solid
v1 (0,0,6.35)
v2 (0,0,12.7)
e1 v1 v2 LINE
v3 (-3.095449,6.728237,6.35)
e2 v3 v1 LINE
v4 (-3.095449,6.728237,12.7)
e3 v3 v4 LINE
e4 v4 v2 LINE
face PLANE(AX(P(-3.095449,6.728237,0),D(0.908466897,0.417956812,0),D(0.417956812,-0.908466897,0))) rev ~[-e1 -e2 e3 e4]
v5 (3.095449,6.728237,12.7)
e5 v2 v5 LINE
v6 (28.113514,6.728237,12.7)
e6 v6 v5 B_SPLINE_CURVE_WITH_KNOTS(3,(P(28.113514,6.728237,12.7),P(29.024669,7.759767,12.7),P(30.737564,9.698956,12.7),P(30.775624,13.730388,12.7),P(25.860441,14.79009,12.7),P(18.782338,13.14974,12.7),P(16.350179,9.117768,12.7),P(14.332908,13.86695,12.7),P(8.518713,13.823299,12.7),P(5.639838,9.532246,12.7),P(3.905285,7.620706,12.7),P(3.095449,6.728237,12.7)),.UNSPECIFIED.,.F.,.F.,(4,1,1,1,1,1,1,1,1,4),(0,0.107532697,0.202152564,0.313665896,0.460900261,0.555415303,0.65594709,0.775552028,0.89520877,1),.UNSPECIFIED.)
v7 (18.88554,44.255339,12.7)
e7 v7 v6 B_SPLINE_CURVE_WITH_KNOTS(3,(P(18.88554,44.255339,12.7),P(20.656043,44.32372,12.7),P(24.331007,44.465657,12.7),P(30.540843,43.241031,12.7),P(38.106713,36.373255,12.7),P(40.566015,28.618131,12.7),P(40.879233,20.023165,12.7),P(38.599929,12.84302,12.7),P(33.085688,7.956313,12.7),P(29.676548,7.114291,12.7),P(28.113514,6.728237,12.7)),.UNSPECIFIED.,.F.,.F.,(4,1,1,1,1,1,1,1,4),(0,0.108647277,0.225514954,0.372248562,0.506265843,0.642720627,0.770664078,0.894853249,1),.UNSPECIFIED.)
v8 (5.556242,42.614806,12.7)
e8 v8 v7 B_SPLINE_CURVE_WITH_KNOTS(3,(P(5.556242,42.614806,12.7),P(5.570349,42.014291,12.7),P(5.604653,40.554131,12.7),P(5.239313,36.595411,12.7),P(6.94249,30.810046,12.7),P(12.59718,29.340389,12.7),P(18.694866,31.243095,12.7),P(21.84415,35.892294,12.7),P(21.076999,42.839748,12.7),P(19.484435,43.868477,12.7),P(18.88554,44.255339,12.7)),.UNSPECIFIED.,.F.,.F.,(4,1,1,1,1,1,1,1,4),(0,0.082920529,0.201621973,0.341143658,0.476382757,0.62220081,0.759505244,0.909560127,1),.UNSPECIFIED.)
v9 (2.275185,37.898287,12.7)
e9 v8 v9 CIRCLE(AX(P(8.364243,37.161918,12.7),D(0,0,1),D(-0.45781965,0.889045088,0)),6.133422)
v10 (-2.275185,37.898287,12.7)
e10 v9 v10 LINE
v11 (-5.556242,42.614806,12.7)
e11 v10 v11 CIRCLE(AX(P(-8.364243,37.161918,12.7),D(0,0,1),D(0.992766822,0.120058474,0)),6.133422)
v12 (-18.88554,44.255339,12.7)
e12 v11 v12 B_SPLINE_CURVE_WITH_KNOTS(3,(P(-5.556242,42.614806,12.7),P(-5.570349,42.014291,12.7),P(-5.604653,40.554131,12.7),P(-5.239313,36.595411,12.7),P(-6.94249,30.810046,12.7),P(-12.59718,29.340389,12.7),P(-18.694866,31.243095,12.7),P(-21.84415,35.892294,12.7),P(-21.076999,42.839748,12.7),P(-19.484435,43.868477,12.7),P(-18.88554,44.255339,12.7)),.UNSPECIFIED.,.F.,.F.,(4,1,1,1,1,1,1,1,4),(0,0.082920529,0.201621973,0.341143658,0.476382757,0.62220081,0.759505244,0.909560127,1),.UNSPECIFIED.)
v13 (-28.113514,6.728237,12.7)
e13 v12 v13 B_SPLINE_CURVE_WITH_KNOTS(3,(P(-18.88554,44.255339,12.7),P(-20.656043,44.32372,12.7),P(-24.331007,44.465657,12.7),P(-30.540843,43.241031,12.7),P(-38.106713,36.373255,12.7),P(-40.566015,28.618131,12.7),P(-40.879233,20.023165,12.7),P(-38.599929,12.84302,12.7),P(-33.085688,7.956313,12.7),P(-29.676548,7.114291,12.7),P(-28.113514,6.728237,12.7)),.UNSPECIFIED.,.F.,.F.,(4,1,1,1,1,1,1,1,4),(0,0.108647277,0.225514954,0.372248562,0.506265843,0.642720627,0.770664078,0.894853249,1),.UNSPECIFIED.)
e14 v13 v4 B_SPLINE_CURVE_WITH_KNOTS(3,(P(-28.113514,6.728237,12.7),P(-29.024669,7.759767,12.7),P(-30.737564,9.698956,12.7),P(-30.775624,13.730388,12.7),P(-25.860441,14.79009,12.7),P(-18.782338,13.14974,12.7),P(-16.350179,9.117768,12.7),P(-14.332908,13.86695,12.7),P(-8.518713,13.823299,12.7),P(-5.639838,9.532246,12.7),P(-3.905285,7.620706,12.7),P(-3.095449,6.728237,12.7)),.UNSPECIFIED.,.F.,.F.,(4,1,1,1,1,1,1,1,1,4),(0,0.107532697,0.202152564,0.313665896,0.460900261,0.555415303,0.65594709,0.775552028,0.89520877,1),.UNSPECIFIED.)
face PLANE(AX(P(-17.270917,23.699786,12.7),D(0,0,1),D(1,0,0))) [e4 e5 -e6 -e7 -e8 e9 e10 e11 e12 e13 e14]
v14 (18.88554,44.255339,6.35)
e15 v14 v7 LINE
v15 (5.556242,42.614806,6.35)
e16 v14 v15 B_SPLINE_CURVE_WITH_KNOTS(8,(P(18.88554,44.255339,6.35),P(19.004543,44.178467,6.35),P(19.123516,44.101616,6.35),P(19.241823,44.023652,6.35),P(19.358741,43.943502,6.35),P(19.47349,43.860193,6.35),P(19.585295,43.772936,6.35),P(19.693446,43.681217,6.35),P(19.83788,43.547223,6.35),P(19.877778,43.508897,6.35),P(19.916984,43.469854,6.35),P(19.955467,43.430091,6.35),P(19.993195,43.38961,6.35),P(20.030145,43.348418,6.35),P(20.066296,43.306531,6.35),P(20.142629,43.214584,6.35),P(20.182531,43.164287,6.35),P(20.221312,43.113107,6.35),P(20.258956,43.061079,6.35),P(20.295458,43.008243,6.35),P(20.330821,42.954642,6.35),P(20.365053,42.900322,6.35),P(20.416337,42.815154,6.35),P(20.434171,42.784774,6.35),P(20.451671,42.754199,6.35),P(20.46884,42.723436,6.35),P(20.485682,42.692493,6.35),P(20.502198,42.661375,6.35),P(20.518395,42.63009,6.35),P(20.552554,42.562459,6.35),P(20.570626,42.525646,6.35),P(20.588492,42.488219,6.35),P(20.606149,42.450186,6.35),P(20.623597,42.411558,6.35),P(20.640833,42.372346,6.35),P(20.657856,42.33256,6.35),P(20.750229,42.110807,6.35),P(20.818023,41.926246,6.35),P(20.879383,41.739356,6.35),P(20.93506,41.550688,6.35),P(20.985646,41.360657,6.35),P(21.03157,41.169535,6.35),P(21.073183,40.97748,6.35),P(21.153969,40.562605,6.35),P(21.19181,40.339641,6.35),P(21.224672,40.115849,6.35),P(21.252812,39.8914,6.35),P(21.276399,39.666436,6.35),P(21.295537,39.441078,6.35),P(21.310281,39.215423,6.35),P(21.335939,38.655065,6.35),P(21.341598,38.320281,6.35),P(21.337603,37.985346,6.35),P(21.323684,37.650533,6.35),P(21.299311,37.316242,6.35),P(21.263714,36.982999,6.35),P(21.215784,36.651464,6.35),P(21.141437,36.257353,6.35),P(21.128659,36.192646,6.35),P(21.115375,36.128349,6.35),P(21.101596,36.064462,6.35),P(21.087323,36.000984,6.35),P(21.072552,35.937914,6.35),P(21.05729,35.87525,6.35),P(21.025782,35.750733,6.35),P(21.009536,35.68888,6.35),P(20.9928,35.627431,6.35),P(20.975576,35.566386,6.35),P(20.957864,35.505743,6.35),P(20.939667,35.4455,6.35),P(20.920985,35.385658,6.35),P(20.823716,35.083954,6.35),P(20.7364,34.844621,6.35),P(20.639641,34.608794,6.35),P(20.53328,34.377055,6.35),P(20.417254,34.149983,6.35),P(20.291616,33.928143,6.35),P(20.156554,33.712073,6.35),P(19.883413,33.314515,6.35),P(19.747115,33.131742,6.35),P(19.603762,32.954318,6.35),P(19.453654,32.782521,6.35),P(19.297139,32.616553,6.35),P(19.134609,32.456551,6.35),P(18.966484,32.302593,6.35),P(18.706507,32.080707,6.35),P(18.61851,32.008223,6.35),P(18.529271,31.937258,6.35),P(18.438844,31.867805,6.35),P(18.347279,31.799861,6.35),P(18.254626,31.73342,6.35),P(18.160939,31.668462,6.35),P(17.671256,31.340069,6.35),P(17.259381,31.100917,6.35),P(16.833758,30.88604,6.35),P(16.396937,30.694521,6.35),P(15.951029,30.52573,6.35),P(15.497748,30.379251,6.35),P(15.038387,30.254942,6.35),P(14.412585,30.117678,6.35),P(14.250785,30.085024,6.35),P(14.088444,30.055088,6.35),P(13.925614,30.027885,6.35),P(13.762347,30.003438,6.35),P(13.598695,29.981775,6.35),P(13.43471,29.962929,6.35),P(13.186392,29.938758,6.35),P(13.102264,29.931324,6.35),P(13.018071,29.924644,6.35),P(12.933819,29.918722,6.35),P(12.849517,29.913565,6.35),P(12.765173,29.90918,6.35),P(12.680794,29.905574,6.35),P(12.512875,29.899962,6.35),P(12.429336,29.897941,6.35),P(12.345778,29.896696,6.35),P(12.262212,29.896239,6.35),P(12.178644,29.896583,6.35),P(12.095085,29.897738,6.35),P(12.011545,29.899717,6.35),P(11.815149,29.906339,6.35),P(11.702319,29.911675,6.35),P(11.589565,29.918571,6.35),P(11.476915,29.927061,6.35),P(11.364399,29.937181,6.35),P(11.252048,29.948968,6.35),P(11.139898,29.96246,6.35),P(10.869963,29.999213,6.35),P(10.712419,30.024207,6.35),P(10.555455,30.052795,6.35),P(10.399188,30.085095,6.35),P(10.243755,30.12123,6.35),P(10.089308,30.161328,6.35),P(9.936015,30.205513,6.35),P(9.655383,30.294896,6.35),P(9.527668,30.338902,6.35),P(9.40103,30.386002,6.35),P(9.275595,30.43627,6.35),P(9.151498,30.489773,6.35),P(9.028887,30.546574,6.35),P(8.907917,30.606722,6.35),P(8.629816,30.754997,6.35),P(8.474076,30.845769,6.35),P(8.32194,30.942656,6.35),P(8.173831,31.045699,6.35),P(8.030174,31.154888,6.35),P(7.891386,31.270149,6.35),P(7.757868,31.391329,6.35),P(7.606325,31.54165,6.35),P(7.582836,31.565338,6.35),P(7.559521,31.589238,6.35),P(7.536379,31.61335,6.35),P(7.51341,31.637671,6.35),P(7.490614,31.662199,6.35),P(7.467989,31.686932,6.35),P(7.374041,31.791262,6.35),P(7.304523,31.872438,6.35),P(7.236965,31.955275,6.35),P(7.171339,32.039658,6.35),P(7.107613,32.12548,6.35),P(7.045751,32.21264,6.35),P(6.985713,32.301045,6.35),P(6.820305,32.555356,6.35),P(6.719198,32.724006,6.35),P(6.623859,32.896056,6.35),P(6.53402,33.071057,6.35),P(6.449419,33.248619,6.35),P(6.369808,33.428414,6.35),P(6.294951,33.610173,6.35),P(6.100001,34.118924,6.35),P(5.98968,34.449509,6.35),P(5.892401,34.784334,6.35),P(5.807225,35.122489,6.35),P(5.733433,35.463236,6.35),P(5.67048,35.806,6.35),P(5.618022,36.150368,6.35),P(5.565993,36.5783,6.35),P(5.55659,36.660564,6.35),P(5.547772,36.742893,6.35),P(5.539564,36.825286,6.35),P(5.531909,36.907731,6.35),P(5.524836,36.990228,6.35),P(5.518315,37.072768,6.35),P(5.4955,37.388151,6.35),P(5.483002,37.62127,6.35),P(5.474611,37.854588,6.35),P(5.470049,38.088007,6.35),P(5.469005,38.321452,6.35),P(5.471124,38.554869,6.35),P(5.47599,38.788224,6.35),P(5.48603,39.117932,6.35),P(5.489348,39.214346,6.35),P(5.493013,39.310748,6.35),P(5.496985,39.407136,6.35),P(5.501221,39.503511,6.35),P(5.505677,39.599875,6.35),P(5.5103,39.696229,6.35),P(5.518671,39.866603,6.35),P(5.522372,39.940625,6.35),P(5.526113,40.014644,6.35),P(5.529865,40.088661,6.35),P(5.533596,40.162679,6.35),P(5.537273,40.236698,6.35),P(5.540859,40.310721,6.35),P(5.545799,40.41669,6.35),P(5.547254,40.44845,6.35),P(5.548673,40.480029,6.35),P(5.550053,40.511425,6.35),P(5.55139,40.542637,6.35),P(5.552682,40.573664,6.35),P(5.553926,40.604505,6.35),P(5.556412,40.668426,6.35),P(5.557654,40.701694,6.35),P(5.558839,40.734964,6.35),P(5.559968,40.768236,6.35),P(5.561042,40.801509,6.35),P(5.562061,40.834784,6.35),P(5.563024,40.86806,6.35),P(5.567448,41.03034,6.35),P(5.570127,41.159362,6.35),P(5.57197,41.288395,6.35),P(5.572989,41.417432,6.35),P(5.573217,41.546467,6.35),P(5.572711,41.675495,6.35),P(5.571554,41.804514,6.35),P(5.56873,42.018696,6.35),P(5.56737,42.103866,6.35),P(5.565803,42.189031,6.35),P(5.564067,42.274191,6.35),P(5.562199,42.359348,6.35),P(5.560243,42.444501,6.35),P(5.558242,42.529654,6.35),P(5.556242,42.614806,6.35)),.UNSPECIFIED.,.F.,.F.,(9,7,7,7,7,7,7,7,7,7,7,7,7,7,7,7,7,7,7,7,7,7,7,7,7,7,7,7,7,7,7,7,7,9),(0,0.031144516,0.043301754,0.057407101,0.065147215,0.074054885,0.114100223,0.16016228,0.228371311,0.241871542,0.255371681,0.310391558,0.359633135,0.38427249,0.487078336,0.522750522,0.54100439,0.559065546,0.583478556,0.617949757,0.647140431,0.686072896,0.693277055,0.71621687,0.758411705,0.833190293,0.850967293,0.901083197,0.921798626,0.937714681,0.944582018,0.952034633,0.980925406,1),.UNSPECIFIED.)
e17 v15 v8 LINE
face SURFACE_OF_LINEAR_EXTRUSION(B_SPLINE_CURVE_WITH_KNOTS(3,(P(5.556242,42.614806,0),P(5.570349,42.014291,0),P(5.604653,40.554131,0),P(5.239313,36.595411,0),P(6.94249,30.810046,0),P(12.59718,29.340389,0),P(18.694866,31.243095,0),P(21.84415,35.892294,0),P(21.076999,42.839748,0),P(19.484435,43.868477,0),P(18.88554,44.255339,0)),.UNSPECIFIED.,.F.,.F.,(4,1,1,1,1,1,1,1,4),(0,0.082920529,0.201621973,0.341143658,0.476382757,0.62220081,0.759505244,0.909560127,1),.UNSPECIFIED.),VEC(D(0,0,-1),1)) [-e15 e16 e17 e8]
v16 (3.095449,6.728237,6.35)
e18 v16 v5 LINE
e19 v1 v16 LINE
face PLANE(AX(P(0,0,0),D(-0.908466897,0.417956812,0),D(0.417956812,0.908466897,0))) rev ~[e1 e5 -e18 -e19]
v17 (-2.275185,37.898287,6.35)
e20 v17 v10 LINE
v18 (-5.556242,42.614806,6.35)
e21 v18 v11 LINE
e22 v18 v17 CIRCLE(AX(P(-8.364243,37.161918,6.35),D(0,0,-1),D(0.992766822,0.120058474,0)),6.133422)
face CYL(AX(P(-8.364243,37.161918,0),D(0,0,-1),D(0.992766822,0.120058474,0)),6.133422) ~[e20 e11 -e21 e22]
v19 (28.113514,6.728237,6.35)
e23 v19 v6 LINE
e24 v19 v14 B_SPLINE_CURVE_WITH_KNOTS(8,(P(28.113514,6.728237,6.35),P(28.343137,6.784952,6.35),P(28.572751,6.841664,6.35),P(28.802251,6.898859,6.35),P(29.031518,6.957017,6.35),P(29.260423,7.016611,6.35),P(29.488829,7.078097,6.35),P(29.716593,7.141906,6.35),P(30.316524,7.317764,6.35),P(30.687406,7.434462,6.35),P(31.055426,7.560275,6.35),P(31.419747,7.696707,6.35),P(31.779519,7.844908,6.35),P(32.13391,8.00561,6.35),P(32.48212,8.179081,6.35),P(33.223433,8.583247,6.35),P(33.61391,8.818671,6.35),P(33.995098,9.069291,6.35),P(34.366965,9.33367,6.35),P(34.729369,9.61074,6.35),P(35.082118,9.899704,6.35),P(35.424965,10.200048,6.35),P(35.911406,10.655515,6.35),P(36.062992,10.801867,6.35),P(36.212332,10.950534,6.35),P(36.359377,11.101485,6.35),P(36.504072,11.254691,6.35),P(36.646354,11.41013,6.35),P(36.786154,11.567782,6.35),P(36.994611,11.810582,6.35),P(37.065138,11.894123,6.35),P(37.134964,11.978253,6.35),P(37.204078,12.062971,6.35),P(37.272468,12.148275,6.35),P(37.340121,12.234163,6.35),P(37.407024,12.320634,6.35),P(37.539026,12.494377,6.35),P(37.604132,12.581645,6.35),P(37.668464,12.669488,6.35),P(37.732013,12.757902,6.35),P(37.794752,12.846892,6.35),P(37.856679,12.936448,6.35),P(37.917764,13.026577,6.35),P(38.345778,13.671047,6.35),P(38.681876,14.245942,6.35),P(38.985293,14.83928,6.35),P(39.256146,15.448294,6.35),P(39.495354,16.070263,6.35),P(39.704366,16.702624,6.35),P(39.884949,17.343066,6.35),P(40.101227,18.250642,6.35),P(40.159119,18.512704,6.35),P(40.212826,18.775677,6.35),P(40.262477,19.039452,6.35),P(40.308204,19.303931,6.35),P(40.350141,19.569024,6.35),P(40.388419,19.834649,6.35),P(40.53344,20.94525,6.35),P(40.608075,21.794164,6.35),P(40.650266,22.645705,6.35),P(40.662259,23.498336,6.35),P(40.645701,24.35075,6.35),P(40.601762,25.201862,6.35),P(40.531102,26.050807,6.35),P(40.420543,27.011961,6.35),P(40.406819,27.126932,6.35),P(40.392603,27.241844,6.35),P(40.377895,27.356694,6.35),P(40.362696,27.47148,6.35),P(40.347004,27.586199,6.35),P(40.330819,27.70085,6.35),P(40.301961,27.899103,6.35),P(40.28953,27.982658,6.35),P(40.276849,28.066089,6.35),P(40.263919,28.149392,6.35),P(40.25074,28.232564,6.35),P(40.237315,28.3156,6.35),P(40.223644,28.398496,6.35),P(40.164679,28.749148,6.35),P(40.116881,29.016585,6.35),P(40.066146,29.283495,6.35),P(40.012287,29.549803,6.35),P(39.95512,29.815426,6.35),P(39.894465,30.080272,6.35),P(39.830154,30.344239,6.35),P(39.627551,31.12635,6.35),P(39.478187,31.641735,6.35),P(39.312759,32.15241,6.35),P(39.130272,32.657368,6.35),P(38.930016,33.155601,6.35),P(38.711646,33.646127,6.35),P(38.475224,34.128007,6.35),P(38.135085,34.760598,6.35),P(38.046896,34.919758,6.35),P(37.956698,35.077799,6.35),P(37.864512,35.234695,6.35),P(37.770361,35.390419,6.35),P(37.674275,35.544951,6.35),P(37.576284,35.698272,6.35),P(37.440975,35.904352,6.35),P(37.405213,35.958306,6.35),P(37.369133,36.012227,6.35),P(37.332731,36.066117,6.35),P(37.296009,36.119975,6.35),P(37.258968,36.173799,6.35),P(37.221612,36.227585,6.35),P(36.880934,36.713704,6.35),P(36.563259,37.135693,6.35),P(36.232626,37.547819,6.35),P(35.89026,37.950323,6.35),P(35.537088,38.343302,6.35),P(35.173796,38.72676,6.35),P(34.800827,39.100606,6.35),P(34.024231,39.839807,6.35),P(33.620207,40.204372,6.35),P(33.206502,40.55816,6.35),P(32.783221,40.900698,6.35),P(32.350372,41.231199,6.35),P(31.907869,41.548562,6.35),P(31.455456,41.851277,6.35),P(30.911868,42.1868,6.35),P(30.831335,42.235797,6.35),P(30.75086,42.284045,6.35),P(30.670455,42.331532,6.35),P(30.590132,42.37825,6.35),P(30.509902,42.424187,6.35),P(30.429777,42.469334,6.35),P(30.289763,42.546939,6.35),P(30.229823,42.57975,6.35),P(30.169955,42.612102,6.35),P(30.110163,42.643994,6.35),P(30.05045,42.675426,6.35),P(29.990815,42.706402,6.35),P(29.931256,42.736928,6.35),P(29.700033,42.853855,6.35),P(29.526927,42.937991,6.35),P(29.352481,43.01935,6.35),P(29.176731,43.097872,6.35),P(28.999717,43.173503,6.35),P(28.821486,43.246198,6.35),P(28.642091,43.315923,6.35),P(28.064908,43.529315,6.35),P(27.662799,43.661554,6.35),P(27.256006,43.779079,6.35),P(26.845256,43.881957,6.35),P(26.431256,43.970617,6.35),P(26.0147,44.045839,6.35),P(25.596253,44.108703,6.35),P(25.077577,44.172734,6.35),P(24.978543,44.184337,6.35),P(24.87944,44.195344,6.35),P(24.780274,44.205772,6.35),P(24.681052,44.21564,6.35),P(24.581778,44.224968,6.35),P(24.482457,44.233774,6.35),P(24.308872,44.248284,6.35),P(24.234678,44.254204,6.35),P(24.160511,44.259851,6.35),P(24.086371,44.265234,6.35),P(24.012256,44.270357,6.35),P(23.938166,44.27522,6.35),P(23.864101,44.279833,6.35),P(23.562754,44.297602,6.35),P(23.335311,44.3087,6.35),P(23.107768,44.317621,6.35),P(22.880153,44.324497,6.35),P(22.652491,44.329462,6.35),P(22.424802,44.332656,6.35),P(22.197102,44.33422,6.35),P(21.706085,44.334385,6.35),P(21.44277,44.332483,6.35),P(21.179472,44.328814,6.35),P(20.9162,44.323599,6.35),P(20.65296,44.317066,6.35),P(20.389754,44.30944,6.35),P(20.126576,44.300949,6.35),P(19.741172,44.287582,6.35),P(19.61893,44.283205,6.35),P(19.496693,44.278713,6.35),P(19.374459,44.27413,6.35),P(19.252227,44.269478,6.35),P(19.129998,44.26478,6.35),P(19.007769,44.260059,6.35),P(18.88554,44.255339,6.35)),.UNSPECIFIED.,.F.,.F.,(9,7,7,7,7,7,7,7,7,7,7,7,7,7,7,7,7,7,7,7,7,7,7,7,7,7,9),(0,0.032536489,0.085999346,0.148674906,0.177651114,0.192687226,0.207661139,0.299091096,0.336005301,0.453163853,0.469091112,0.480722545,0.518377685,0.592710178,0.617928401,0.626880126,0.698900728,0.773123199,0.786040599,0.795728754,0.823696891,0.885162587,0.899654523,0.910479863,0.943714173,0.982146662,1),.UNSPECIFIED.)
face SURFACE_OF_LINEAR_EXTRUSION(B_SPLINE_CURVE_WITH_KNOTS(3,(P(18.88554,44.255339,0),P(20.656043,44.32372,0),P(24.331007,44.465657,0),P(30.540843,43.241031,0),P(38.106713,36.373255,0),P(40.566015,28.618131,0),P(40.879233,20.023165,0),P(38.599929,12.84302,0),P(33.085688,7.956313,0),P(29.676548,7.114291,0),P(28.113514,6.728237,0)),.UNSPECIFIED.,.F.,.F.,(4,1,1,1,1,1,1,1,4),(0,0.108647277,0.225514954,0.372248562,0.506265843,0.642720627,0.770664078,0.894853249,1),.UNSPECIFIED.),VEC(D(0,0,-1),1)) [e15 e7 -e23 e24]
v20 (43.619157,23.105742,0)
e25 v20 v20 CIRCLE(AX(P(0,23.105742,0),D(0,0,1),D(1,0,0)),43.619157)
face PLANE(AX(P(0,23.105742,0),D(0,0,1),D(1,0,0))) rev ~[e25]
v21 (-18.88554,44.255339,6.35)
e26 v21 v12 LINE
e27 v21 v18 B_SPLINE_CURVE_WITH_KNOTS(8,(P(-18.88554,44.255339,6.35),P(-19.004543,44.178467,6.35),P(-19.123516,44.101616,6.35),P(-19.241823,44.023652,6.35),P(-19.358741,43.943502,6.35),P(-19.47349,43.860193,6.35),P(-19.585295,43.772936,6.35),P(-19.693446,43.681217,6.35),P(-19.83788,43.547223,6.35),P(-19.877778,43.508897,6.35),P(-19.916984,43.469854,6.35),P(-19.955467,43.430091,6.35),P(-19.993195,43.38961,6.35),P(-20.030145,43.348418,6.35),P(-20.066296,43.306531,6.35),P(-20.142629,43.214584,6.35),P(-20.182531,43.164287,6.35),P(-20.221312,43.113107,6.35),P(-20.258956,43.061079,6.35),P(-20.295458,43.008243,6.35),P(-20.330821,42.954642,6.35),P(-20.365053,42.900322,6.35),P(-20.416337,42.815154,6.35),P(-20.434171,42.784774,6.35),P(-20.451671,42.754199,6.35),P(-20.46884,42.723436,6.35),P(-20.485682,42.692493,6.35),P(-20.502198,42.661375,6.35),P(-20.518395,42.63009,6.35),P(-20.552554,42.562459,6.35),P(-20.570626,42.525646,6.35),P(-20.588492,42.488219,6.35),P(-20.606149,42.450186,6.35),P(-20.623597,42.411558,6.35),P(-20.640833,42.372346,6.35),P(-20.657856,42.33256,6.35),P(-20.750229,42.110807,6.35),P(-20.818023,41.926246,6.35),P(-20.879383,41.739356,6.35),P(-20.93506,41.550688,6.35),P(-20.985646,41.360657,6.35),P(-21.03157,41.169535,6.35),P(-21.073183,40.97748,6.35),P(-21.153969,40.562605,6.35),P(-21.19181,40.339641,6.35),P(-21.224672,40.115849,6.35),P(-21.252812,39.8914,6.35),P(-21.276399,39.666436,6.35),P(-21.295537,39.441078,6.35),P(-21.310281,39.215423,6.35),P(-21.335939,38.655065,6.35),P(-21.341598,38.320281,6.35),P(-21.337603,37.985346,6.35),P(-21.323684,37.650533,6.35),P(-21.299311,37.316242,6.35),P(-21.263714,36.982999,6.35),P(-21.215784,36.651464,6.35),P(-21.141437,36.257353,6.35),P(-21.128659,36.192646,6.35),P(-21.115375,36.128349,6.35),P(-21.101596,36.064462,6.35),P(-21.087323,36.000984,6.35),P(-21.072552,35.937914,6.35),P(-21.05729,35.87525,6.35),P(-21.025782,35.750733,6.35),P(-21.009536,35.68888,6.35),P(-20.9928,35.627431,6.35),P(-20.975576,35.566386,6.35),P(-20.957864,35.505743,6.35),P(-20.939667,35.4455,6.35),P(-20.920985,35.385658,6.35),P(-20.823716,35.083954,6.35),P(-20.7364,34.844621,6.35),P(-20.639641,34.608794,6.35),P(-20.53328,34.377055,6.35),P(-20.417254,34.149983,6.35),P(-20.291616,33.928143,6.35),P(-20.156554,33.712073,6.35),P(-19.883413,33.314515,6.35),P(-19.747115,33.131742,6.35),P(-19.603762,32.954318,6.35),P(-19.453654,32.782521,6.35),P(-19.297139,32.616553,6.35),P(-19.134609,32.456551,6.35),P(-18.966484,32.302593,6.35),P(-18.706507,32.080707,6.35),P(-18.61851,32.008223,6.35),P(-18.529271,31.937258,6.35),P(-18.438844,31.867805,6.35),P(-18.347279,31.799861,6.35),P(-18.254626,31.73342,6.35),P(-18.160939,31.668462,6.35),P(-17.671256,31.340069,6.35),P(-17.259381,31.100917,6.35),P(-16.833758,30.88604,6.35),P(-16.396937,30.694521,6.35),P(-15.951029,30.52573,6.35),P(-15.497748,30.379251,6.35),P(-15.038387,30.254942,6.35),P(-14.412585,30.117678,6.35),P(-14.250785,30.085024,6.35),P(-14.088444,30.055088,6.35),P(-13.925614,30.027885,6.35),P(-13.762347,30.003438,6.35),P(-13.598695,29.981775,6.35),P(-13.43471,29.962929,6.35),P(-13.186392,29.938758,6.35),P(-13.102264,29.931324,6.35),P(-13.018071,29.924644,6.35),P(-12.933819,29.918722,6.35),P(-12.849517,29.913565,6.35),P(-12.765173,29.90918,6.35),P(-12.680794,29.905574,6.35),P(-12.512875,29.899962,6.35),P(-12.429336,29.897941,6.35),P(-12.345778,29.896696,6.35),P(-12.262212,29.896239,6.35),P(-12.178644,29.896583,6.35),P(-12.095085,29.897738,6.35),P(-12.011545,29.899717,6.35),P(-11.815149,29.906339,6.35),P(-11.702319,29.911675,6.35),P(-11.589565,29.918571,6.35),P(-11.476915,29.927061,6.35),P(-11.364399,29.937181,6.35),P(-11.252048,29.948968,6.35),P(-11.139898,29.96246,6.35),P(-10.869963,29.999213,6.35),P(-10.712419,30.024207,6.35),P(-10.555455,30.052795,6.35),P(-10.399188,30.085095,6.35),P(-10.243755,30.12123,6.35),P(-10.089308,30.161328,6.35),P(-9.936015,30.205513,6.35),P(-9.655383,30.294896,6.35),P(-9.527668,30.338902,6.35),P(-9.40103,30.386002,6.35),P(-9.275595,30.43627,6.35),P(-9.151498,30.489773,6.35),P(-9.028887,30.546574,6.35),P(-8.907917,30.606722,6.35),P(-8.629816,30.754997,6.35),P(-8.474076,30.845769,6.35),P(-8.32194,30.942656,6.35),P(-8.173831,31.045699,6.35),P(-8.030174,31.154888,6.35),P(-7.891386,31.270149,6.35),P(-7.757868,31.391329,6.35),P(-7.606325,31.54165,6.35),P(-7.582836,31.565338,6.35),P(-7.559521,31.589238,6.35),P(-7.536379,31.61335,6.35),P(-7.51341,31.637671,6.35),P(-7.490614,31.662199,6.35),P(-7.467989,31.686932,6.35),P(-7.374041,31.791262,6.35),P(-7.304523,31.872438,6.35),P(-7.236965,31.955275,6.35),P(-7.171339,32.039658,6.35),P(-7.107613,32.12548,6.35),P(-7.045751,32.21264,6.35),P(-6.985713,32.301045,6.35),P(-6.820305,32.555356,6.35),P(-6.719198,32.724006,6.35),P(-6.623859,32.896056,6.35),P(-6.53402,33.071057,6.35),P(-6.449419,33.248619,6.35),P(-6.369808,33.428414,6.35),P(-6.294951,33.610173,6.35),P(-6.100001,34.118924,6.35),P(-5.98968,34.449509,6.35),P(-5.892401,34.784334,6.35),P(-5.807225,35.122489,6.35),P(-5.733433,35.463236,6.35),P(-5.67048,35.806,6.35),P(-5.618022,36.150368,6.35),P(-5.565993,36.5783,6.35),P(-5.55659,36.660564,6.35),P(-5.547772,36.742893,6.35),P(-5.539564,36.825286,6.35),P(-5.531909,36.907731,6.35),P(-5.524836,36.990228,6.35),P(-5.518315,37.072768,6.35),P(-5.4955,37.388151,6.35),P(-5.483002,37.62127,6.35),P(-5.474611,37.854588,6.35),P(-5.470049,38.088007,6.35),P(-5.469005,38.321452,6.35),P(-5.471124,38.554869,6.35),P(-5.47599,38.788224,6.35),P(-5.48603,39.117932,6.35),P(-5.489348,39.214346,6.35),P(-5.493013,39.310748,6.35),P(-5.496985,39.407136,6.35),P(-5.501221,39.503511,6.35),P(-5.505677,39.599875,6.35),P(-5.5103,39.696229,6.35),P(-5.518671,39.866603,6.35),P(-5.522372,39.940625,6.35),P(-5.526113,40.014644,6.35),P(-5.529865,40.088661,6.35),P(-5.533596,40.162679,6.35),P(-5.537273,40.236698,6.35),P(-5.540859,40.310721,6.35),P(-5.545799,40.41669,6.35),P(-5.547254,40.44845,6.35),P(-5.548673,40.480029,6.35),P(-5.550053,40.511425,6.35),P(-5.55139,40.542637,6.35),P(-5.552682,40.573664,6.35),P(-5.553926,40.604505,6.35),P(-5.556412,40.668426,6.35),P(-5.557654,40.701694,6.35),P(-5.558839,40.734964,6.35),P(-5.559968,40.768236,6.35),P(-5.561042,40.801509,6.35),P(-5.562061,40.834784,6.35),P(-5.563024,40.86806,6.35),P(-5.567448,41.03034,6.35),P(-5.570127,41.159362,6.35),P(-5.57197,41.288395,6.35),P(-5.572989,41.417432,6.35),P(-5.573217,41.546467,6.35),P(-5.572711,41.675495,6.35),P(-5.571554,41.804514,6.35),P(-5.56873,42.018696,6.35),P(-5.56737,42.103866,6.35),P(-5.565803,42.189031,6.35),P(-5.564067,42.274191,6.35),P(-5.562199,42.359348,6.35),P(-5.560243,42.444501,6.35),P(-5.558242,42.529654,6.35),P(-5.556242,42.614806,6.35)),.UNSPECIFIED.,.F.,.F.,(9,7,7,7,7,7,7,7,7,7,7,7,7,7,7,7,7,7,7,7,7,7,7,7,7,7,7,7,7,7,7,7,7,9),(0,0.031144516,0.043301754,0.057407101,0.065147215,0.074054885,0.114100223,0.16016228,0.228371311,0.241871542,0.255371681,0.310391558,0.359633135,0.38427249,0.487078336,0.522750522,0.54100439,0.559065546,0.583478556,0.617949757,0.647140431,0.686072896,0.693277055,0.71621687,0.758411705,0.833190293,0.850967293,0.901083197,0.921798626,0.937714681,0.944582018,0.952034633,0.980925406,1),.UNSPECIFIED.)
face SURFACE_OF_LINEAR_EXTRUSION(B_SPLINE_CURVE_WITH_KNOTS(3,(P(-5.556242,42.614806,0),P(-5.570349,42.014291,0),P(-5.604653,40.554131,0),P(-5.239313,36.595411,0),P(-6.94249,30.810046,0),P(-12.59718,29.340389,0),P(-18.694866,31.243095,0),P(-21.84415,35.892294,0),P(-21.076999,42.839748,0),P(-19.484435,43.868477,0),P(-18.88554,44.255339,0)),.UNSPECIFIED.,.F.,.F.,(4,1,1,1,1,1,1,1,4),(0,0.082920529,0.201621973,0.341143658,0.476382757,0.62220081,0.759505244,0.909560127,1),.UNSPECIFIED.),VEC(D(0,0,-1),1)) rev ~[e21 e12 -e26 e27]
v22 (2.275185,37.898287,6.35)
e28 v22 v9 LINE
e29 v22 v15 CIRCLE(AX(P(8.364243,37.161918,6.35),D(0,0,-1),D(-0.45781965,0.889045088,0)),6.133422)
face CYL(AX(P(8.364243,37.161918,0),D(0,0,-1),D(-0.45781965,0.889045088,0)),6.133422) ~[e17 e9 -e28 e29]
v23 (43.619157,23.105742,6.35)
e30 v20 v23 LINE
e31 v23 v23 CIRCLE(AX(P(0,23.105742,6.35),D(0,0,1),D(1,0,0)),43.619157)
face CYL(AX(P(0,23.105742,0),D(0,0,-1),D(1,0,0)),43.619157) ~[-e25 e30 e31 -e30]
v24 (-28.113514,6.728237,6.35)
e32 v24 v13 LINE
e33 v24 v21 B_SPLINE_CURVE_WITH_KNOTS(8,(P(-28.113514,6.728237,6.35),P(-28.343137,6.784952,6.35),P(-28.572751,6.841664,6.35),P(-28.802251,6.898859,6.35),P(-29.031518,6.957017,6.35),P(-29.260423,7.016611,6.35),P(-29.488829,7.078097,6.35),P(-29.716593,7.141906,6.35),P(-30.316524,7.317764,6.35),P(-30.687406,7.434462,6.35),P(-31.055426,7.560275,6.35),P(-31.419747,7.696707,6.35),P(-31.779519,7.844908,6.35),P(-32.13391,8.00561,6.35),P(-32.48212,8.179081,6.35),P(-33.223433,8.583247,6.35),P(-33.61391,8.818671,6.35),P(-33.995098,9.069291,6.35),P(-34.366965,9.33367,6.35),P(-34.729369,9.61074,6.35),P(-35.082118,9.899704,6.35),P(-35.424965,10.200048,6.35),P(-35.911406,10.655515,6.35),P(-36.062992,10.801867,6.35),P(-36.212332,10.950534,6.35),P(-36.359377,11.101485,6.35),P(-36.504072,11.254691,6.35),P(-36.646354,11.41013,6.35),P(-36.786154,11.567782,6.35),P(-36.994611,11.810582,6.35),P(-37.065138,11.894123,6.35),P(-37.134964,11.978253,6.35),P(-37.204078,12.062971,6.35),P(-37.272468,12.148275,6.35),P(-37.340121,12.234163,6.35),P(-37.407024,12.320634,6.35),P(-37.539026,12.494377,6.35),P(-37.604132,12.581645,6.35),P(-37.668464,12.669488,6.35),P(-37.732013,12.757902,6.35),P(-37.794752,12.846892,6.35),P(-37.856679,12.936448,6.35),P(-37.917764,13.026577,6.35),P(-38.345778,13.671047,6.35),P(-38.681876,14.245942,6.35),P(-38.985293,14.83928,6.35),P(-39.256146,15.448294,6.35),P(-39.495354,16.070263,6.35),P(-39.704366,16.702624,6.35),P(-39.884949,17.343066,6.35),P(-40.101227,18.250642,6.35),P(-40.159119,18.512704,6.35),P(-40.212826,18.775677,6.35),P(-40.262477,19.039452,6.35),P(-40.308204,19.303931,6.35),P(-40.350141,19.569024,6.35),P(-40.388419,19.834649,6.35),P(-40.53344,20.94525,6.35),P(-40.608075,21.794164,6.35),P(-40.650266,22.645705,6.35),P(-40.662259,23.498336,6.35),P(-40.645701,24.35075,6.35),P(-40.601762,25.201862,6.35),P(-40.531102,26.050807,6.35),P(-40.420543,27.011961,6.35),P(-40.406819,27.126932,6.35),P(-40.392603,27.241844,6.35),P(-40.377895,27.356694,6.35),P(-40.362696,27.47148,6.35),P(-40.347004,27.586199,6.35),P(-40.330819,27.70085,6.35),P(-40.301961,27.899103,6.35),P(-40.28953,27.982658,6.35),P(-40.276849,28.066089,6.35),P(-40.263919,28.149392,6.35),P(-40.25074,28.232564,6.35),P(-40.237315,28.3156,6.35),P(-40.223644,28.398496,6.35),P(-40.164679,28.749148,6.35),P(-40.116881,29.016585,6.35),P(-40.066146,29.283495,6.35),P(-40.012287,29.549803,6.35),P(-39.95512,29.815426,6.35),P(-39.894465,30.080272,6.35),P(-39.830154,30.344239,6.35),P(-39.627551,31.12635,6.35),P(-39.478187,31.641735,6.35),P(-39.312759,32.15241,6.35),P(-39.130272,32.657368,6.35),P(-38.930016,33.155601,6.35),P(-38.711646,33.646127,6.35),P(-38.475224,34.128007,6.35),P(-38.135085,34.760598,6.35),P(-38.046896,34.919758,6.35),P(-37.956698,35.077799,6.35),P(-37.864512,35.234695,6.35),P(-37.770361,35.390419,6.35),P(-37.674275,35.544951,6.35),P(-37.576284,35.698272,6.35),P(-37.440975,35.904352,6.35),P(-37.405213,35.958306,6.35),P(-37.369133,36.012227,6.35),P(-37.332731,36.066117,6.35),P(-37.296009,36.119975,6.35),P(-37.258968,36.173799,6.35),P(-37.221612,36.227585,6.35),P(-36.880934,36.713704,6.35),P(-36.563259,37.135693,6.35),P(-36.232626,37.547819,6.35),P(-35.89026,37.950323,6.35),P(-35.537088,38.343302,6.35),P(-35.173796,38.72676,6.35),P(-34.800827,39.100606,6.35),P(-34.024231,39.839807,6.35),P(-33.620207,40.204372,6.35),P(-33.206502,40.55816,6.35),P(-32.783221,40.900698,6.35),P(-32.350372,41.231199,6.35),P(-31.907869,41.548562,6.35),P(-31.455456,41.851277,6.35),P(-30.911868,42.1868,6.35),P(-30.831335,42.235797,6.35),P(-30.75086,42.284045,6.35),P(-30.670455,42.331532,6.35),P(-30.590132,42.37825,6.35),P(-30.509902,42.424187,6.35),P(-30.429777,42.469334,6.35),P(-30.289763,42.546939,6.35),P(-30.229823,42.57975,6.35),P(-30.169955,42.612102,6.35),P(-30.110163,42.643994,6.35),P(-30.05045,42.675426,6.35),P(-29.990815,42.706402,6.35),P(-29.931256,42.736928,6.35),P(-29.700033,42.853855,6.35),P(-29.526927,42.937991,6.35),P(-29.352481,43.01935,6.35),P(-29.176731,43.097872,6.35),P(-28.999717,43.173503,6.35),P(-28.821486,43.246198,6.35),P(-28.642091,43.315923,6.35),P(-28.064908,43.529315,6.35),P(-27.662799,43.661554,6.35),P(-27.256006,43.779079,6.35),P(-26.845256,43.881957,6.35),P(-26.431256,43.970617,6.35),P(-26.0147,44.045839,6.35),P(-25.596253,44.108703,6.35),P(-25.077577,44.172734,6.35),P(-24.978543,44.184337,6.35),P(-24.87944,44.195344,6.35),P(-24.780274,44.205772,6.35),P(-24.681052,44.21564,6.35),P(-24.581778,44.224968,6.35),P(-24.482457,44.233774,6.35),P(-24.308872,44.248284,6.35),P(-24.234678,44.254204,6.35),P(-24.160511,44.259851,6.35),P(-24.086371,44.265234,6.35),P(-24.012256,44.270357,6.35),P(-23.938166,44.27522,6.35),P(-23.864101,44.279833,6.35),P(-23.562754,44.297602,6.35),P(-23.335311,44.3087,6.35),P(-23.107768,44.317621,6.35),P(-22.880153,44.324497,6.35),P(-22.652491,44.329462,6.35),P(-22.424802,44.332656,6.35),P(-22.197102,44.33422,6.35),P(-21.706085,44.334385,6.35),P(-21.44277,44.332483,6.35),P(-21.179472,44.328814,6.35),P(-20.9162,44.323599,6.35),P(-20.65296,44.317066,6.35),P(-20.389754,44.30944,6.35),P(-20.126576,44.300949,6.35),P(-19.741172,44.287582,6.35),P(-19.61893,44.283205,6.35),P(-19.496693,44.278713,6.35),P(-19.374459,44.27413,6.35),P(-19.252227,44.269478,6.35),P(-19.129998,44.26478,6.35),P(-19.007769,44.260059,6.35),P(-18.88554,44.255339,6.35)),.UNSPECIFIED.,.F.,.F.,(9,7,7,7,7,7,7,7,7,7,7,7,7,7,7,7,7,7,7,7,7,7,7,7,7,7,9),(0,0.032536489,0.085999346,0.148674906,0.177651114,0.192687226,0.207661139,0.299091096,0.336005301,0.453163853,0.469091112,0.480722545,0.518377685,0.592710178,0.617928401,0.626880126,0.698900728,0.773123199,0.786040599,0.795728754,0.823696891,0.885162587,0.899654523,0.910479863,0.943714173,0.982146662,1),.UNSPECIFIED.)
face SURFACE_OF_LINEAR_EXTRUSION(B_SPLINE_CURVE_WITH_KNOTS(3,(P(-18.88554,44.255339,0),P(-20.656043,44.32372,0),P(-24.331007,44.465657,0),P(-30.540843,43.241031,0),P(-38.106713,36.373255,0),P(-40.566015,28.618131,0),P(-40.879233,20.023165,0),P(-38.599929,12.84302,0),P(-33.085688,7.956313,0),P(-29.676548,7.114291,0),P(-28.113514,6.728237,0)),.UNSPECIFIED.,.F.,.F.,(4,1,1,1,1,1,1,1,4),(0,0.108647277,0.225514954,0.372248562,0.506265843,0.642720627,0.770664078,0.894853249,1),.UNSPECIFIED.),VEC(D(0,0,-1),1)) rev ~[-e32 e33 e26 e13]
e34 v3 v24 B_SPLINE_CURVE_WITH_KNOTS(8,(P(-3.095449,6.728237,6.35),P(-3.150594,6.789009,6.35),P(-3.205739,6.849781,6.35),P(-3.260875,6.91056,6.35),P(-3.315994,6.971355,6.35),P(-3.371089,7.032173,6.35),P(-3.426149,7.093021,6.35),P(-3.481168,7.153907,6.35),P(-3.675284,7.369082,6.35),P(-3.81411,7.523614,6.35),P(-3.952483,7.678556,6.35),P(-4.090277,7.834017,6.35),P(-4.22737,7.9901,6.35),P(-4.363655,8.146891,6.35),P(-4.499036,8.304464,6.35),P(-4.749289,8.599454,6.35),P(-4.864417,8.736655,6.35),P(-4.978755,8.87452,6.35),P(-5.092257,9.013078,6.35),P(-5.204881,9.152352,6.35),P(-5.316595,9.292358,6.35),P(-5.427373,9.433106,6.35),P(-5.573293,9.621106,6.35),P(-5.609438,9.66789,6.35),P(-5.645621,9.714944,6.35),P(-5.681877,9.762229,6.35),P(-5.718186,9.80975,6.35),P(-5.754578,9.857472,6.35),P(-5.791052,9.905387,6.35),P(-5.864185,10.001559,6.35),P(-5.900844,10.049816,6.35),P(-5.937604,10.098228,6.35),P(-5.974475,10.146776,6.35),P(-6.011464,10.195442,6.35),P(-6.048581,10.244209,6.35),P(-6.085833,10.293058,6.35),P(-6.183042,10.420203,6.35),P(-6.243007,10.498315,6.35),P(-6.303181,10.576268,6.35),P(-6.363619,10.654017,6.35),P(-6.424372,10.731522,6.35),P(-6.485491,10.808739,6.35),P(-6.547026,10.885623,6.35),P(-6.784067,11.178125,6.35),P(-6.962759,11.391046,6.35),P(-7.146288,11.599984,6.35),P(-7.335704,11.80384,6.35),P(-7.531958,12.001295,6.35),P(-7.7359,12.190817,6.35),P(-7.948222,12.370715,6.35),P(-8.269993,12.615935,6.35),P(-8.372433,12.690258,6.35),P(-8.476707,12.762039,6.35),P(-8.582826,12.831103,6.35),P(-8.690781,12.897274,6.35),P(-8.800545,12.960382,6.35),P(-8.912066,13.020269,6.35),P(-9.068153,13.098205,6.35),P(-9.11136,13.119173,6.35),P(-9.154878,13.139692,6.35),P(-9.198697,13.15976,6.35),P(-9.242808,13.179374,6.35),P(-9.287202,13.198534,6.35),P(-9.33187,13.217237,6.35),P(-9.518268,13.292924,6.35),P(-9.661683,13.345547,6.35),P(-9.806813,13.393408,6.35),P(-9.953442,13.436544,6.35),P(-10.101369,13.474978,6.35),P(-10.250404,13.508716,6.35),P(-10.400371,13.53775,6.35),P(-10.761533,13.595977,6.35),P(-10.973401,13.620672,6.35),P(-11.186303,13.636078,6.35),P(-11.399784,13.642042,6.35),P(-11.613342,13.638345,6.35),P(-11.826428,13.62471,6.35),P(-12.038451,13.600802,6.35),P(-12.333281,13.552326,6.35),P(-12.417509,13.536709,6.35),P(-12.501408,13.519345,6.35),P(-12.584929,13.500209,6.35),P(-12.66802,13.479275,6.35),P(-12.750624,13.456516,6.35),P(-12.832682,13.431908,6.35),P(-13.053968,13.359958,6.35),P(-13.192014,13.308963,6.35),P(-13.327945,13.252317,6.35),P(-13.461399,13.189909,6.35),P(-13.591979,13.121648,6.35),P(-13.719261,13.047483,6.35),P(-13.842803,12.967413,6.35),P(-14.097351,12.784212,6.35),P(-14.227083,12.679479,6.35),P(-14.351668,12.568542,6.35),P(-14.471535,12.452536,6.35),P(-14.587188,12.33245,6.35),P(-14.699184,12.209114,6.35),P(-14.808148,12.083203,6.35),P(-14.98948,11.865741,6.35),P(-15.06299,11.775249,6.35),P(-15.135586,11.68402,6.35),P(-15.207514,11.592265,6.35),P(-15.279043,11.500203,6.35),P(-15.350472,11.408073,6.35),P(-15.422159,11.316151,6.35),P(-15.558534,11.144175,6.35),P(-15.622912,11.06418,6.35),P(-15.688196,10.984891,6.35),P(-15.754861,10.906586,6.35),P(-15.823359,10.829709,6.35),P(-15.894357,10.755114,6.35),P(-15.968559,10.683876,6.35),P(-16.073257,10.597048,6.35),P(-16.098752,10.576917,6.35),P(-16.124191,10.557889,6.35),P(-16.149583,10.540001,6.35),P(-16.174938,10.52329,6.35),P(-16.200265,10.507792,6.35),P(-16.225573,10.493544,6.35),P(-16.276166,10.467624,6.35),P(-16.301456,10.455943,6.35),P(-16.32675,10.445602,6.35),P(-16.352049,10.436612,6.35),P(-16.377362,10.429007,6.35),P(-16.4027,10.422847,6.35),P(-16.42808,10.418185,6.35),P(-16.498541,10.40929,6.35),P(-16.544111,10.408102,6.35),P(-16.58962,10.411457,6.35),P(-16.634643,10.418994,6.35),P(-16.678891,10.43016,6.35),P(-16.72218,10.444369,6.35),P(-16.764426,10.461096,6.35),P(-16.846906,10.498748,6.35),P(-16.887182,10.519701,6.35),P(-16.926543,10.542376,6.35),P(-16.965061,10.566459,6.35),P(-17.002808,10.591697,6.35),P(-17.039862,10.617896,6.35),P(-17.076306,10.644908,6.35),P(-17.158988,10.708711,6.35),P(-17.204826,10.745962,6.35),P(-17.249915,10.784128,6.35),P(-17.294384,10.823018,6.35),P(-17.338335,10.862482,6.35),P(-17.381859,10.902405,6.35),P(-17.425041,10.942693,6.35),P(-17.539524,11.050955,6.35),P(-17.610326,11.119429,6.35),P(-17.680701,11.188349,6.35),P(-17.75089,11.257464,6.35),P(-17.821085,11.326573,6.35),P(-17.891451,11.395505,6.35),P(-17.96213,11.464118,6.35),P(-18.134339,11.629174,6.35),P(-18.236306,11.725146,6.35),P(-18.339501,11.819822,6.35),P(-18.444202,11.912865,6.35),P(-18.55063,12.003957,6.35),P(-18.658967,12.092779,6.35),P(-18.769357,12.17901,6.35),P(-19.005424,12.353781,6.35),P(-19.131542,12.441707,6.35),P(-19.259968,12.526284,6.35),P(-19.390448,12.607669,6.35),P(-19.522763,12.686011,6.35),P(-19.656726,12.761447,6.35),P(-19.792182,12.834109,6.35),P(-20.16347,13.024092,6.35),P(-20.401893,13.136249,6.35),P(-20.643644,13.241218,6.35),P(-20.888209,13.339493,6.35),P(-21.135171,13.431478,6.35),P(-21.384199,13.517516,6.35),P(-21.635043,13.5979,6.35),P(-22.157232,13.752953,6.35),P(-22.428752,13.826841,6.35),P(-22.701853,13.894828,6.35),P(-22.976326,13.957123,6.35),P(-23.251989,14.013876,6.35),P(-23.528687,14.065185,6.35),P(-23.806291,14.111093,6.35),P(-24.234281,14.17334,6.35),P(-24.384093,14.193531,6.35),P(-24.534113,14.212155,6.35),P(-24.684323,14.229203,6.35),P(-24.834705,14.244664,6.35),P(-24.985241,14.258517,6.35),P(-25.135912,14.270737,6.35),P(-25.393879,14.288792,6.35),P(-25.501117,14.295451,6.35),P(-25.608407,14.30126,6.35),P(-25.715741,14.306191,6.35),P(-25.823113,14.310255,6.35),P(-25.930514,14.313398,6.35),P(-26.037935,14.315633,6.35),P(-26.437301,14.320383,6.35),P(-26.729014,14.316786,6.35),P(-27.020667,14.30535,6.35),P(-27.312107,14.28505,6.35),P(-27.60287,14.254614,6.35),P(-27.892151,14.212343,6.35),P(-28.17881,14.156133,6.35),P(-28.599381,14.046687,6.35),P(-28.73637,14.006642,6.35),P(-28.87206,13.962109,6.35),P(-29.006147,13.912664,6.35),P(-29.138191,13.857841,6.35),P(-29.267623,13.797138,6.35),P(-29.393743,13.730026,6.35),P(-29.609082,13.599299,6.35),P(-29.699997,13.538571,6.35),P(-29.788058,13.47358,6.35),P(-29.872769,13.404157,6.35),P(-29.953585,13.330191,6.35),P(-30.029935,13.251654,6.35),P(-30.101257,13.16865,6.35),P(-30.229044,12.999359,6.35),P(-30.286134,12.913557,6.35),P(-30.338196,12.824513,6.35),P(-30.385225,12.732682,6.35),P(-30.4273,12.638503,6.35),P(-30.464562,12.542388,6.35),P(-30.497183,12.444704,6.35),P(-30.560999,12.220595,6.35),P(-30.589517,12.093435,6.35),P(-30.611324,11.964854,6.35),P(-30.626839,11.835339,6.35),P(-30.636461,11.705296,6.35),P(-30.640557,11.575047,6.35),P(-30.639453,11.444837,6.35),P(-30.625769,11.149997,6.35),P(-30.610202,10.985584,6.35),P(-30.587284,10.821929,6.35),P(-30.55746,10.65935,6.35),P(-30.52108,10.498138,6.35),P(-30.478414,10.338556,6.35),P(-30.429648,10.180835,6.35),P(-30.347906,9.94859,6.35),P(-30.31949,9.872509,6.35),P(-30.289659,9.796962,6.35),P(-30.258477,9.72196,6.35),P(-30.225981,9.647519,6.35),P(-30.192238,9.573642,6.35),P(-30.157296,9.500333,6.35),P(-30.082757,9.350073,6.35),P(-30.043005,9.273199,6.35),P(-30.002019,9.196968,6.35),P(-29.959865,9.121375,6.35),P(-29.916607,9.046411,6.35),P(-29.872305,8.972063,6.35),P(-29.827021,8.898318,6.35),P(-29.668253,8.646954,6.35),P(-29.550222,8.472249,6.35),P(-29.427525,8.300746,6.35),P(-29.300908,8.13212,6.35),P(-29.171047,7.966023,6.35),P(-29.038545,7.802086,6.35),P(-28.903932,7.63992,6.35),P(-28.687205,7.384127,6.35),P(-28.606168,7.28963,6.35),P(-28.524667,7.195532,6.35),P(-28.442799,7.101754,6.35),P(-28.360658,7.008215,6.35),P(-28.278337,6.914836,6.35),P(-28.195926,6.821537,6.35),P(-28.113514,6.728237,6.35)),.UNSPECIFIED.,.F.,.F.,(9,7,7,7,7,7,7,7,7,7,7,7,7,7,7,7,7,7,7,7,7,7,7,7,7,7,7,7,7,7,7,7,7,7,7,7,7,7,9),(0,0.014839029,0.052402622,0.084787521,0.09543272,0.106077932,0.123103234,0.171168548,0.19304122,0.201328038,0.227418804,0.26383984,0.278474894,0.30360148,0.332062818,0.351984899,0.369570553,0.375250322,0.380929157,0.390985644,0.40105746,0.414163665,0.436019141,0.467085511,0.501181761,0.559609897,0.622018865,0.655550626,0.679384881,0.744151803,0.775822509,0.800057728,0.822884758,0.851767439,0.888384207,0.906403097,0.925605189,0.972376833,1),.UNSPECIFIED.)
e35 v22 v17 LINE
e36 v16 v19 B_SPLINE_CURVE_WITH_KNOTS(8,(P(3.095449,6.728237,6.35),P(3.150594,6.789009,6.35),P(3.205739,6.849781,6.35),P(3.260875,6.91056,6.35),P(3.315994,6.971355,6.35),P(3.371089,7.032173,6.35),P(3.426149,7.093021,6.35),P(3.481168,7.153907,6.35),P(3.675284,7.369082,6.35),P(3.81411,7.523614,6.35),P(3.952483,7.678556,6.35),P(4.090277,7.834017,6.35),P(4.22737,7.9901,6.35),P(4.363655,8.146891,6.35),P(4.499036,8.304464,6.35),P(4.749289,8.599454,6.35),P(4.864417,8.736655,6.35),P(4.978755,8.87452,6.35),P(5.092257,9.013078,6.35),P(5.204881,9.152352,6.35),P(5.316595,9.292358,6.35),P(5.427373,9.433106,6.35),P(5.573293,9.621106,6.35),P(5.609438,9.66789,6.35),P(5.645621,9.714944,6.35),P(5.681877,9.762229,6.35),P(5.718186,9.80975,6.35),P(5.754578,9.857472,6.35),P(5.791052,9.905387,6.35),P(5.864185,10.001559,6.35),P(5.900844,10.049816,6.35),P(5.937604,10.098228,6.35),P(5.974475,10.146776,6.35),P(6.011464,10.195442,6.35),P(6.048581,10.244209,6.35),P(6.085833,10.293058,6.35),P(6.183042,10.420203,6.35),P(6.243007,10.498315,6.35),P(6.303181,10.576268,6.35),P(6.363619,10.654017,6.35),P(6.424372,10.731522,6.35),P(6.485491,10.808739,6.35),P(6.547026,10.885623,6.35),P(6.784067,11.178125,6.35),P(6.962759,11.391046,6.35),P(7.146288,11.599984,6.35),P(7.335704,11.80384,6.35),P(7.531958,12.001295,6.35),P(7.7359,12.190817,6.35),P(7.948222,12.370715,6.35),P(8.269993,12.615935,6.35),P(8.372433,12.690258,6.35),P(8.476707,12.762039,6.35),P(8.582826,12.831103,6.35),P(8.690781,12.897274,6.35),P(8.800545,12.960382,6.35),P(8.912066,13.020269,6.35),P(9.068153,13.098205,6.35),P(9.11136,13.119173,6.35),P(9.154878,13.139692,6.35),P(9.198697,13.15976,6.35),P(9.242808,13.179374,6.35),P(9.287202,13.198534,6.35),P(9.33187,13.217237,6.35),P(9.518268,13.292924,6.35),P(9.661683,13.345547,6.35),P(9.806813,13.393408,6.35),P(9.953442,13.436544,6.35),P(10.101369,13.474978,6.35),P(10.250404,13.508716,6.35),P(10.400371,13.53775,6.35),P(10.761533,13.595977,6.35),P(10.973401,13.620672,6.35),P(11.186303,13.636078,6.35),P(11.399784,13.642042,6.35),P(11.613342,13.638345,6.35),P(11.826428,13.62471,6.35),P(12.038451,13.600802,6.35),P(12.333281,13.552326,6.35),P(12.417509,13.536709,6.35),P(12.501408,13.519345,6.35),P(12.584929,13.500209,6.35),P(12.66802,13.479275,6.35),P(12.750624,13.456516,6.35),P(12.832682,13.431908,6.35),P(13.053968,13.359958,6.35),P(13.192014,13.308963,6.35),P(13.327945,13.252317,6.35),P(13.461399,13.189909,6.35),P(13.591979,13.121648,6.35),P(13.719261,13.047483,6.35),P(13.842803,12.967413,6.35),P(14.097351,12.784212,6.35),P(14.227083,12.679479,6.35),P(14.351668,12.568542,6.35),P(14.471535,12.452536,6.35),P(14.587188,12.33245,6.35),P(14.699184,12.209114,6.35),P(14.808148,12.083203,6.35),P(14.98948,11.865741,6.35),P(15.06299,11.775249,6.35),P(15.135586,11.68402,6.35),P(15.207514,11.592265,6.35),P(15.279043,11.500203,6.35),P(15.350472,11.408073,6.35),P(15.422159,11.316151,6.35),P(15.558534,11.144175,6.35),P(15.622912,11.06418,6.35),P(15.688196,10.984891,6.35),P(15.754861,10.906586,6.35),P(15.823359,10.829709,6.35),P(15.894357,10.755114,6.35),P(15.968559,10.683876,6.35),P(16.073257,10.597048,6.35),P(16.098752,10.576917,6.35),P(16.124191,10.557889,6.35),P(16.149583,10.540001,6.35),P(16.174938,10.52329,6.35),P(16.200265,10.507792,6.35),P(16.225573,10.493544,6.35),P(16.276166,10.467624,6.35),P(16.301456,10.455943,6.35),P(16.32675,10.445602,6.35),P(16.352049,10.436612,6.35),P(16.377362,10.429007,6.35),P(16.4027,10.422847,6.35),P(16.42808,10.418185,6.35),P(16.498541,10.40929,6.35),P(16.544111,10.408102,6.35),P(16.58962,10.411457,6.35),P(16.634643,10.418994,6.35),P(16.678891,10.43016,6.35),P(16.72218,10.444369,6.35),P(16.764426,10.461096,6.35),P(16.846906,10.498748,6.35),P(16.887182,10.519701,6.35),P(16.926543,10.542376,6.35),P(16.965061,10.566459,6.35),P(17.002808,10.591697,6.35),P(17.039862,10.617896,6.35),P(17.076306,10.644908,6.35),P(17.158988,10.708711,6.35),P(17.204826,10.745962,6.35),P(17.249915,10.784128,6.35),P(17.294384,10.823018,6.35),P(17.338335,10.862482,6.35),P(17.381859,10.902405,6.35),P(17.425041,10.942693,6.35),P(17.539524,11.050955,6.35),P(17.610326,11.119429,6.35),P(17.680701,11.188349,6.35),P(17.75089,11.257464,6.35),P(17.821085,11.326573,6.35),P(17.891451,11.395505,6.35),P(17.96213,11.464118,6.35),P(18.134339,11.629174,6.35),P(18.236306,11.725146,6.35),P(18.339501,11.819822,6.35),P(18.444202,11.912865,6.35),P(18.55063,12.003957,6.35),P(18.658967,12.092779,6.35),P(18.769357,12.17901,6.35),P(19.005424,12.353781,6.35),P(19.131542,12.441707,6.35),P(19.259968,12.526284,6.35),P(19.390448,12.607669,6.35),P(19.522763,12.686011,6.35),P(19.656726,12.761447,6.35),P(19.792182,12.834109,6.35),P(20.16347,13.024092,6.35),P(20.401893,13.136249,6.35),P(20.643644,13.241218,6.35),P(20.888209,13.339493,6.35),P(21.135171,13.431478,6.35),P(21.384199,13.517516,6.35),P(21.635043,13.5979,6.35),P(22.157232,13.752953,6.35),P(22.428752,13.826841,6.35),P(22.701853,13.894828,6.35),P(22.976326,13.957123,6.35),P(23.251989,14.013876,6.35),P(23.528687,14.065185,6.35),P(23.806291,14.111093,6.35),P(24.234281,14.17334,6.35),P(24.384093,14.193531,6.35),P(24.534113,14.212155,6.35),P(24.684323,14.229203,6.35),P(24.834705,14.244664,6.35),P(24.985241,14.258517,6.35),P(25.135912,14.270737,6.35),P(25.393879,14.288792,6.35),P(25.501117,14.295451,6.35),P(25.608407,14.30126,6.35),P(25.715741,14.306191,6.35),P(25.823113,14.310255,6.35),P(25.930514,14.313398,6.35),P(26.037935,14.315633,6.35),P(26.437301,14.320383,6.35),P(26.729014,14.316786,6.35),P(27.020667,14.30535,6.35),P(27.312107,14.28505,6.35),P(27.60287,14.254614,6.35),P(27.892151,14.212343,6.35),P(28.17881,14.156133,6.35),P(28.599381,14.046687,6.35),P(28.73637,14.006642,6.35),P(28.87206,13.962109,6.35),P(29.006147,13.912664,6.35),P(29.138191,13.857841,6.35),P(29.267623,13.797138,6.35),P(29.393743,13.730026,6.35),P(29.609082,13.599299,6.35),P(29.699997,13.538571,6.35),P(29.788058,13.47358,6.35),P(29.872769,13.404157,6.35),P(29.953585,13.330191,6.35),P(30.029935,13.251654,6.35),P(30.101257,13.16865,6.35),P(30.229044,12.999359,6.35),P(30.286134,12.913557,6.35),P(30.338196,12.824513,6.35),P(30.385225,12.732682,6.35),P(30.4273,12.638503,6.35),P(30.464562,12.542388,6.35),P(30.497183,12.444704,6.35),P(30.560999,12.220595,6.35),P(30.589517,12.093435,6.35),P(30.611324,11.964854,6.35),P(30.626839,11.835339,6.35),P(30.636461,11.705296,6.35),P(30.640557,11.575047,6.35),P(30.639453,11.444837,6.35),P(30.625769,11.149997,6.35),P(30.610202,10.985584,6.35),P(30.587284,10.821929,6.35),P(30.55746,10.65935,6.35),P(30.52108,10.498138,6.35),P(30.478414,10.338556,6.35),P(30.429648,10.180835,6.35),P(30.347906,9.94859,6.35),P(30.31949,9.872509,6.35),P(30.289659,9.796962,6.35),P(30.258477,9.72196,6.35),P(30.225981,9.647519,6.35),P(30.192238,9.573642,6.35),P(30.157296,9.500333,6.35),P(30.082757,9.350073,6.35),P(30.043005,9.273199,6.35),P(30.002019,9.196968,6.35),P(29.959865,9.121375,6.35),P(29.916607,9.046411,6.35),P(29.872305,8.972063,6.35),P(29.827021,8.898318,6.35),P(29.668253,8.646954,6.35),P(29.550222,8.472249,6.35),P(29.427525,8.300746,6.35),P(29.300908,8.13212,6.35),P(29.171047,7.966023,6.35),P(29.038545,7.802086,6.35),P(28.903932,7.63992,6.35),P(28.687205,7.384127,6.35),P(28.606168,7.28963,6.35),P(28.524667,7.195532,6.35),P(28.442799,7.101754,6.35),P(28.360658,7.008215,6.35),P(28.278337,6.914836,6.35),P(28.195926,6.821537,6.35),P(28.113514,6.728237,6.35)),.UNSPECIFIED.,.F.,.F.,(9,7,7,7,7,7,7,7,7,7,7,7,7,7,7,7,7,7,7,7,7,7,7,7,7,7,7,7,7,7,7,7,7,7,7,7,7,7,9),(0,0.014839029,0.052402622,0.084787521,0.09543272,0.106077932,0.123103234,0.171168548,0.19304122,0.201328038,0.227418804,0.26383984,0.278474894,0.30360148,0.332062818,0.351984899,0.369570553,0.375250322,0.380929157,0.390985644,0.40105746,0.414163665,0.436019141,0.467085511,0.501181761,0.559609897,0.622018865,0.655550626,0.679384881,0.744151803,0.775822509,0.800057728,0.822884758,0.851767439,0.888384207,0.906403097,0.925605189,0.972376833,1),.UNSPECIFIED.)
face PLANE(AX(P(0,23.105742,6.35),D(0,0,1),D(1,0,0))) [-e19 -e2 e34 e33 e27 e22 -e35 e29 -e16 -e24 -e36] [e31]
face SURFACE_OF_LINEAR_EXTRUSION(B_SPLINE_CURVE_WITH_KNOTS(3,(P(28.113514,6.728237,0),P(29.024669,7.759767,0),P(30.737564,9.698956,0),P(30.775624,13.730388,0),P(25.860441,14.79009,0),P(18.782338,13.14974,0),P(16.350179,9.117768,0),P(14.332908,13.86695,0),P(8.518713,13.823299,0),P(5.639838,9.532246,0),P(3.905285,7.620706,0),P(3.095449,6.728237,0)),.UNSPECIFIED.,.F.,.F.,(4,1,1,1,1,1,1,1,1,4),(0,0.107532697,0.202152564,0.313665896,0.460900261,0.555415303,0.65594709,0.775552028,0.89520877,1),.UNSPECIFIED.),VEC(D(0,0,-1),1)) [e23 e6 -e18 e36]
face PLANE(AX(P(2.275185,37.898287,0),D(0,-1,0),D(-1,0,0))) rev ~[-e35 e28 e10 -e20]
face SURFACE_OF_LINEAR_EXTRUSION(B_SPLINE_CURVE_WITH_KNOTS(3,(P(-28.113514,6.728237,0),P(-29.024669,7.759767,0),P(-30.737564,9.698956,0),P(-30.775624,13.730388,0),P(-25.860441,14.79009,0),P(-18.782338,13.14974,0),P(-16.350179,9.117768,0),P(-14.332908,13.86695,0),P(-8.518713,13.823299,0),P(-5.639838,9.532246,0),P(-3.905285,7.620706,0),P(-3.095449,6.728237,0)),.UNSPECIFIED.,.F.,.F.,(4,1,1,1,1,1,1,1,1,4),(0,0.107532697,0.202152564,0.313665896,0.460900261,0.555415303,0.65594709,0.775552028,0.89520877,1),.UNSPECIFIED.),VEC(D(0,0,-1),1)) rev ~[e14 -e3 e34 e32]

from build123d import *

# Parameters (mm, degrees)
F1_DEPTH = 12.7
F2_R     = 43.6191573148
F3_DEPTH = 6.35


with BuildPart() as f1:
    # F0 (on Top) → F1 (new body)
    with BuildSketch(Plane.XY):
        with BuildLine():
            Line((0, 0), (0, 37.8982871771))
            Line((0, 37.8982871771), (-2.275184961, 37.8982871771))
            ThreePointArc((-2.275184961, 37.8982871771), (-3.3292846535, 40.6644971337), (-5.5562416092, 42.6148064435))
            add(Edge.make_bspline(
                [(-5.5562416092, 42.6148064435), (-5.5703494023, 42.0142906079), (-5.6046526216, 40.5541312384), (-5.2393125388, 36.5954113309), (-6.9424896141, 30.8100461219), (-12.5971795214, 29.3403889147), (-18.6948655551, 31.2430954584), (-21.8441499469, 35.8922942841), (-21.076998542, 42.8397482949), (-19.484435303, 43.8684772866), (-18.8855398446, 44.2553386092)],
                knots=[0, 0, 0, 0, 0.082920529, 0.2016219726, 0.3411436581, 0.4763827565, 0.6222008099, 0.7595052437, 0.9095601268, 1, 1, 1, 1], degree=3))
            add(Edge.make_bspline(
                [(-18.8855398446, 44.2553386092), (-20.6560426877, 44.3237199963), (-24.33100703, 44.4656565993), (-30.5408431936, 43.2410311856), (-38.1067126016, 36.3732548524), (-40.566015012, 28.6181305798), (-40.8792325724, 20.0231651092), (-38.5999285071, 12.8430202709), (-33.0856876554, 7.9563134123), (-29.6765484701, 7.1142909532), (-28.113514185, 6.7282374948)],
                knots=[0, 0, 0, 0, 0.1086472767, 0.2255149543, 0.3722485622, 0.5062658434, 0.642720627, 0.7706640779, 0.894853249, 1, 1, 1, 1], degree=3))
            add(Edge.make_bspline(
                [(-28.113514185, 6.7282374948), (-29.0246689047, 7.7597666145), (-30.7375643135, 9.6989559255), (-30.7756235682, 13.7303881075), (-25.8604407658, 14.7900899125), (-18.7823382808, 13.149739601), (-16.3501787334, 9.1177684328), (-14.3329084621, 13.866950264), (-8.5187134641, 13.8232988977), (-5.6398384057, 9.5322456261), (-3.9052846126, 7.6207055193), (-3.0954487156, 6.7282374948)],
                knots=[0, 0, 0, 0, 0.1075326967, 0.2021525636, 0.3136658959, 0.4609002606, 0.5554153026, 0.6559470898, 0.775552028, 0.8952087704, 1, 1, 1, 1], degree=3))
            Line((-3.0954487156, 6.7282374948), (0, 0))
        make_face()
        with BuildLine():
            Line((2.275184961, 37.8982871771), (0, 37.8982871771))
            Line((0, 37.8982871771), (0, 0))
            Line((0, 0), (3.0954487156, 6.7282374948))
            add(Edge.make_bspline(
                [(28.113514185, 6.7282374948), (29.0246689047, 7.7597666145), (30.7375643135, 9.6989559255), (30.7756235682, 13.7303881075), (25.8604407658, 14.7900899125), (18.7823382808, 13.149739601), (16.3501787334, 9.1177684328), (14.3329084621, 13.866950264), (8.5187134641, 13.8232988977), (5.6398384057, 9.5322456261), (3.9052846126, 7.6207055193), (3.0954487156, 6.7282374948)],
                knots=[0, 0, 0, 0, 0.1075326967, 0.2021525636, 0.3136658959, 0.4609002606, 0.5554153026, 0.6559470898, 0.775552028, 0.8952087704, 1, 1, 1, 1], degree=3))
            add(Edge.make_bspline(
                [(18.8855398446, 44.2553386092), (20.6560426877, 44.3237199963), (24.33100703, 44.4656565993), (30.5408431936, 43.2410311856), (38.1067126016, 36.3732548524), (40.566015012, 28.6181305798), (40.8792325724, 20.0231651092), (38.5999285071, 12.8430202709), (33.0856876554, 7.9563134123), (29.6765484701, 7.1142909532), (28.113514185, 6.7282374948)],
                knots=[0, 0, 0, 0, 0.1086472767, 0.2255149543, 0.3722485622, 0.5062658434, 0.642720627, 0.7706640779, 0.894853249, 1, 1, 1, 1], degree=3))
            add(Edge.make_bspline(
                [(5.5562416092, 42.6148064435), (5.5703494023, 42.0142906079), (5.6046526216, 40.5541312384), (5.2393125388, 36.5954113309), (6.9424896141, 30.8100461219), (12.5971795214, 29.3403889147), (18.6948655551, 31.2430954584), (21.8441499469, 35.8922942841), (21.076998542, 42.8397482949), (19.484435303, 43.8684772866), (18.8855398446, 44.2553386092)],
                knots=[0, 0, 0, 0, 0.082920529, 0.2016219726, 0.3411436581, 0.4763827565, 0.6222008099, 0.7595052437, 0.9095601268, 1, 1, 1, 1], degree=3))
            ThreePointArc((5.5562416092, 42.6148064435), (3.3292846535, 40.6644971337), (2.275184961, 37.8982871771))
        make_face()
    extrude(amount=F1_DEPTH)

    # F2 (on Top) → F3 (join)
    with BuildSketch(Plane.XY):
        with Locations((0, 23.1057424098)):
            Circle(F2_R)
    extrude(amount=F3_DEPTH)


solid = f1.part
